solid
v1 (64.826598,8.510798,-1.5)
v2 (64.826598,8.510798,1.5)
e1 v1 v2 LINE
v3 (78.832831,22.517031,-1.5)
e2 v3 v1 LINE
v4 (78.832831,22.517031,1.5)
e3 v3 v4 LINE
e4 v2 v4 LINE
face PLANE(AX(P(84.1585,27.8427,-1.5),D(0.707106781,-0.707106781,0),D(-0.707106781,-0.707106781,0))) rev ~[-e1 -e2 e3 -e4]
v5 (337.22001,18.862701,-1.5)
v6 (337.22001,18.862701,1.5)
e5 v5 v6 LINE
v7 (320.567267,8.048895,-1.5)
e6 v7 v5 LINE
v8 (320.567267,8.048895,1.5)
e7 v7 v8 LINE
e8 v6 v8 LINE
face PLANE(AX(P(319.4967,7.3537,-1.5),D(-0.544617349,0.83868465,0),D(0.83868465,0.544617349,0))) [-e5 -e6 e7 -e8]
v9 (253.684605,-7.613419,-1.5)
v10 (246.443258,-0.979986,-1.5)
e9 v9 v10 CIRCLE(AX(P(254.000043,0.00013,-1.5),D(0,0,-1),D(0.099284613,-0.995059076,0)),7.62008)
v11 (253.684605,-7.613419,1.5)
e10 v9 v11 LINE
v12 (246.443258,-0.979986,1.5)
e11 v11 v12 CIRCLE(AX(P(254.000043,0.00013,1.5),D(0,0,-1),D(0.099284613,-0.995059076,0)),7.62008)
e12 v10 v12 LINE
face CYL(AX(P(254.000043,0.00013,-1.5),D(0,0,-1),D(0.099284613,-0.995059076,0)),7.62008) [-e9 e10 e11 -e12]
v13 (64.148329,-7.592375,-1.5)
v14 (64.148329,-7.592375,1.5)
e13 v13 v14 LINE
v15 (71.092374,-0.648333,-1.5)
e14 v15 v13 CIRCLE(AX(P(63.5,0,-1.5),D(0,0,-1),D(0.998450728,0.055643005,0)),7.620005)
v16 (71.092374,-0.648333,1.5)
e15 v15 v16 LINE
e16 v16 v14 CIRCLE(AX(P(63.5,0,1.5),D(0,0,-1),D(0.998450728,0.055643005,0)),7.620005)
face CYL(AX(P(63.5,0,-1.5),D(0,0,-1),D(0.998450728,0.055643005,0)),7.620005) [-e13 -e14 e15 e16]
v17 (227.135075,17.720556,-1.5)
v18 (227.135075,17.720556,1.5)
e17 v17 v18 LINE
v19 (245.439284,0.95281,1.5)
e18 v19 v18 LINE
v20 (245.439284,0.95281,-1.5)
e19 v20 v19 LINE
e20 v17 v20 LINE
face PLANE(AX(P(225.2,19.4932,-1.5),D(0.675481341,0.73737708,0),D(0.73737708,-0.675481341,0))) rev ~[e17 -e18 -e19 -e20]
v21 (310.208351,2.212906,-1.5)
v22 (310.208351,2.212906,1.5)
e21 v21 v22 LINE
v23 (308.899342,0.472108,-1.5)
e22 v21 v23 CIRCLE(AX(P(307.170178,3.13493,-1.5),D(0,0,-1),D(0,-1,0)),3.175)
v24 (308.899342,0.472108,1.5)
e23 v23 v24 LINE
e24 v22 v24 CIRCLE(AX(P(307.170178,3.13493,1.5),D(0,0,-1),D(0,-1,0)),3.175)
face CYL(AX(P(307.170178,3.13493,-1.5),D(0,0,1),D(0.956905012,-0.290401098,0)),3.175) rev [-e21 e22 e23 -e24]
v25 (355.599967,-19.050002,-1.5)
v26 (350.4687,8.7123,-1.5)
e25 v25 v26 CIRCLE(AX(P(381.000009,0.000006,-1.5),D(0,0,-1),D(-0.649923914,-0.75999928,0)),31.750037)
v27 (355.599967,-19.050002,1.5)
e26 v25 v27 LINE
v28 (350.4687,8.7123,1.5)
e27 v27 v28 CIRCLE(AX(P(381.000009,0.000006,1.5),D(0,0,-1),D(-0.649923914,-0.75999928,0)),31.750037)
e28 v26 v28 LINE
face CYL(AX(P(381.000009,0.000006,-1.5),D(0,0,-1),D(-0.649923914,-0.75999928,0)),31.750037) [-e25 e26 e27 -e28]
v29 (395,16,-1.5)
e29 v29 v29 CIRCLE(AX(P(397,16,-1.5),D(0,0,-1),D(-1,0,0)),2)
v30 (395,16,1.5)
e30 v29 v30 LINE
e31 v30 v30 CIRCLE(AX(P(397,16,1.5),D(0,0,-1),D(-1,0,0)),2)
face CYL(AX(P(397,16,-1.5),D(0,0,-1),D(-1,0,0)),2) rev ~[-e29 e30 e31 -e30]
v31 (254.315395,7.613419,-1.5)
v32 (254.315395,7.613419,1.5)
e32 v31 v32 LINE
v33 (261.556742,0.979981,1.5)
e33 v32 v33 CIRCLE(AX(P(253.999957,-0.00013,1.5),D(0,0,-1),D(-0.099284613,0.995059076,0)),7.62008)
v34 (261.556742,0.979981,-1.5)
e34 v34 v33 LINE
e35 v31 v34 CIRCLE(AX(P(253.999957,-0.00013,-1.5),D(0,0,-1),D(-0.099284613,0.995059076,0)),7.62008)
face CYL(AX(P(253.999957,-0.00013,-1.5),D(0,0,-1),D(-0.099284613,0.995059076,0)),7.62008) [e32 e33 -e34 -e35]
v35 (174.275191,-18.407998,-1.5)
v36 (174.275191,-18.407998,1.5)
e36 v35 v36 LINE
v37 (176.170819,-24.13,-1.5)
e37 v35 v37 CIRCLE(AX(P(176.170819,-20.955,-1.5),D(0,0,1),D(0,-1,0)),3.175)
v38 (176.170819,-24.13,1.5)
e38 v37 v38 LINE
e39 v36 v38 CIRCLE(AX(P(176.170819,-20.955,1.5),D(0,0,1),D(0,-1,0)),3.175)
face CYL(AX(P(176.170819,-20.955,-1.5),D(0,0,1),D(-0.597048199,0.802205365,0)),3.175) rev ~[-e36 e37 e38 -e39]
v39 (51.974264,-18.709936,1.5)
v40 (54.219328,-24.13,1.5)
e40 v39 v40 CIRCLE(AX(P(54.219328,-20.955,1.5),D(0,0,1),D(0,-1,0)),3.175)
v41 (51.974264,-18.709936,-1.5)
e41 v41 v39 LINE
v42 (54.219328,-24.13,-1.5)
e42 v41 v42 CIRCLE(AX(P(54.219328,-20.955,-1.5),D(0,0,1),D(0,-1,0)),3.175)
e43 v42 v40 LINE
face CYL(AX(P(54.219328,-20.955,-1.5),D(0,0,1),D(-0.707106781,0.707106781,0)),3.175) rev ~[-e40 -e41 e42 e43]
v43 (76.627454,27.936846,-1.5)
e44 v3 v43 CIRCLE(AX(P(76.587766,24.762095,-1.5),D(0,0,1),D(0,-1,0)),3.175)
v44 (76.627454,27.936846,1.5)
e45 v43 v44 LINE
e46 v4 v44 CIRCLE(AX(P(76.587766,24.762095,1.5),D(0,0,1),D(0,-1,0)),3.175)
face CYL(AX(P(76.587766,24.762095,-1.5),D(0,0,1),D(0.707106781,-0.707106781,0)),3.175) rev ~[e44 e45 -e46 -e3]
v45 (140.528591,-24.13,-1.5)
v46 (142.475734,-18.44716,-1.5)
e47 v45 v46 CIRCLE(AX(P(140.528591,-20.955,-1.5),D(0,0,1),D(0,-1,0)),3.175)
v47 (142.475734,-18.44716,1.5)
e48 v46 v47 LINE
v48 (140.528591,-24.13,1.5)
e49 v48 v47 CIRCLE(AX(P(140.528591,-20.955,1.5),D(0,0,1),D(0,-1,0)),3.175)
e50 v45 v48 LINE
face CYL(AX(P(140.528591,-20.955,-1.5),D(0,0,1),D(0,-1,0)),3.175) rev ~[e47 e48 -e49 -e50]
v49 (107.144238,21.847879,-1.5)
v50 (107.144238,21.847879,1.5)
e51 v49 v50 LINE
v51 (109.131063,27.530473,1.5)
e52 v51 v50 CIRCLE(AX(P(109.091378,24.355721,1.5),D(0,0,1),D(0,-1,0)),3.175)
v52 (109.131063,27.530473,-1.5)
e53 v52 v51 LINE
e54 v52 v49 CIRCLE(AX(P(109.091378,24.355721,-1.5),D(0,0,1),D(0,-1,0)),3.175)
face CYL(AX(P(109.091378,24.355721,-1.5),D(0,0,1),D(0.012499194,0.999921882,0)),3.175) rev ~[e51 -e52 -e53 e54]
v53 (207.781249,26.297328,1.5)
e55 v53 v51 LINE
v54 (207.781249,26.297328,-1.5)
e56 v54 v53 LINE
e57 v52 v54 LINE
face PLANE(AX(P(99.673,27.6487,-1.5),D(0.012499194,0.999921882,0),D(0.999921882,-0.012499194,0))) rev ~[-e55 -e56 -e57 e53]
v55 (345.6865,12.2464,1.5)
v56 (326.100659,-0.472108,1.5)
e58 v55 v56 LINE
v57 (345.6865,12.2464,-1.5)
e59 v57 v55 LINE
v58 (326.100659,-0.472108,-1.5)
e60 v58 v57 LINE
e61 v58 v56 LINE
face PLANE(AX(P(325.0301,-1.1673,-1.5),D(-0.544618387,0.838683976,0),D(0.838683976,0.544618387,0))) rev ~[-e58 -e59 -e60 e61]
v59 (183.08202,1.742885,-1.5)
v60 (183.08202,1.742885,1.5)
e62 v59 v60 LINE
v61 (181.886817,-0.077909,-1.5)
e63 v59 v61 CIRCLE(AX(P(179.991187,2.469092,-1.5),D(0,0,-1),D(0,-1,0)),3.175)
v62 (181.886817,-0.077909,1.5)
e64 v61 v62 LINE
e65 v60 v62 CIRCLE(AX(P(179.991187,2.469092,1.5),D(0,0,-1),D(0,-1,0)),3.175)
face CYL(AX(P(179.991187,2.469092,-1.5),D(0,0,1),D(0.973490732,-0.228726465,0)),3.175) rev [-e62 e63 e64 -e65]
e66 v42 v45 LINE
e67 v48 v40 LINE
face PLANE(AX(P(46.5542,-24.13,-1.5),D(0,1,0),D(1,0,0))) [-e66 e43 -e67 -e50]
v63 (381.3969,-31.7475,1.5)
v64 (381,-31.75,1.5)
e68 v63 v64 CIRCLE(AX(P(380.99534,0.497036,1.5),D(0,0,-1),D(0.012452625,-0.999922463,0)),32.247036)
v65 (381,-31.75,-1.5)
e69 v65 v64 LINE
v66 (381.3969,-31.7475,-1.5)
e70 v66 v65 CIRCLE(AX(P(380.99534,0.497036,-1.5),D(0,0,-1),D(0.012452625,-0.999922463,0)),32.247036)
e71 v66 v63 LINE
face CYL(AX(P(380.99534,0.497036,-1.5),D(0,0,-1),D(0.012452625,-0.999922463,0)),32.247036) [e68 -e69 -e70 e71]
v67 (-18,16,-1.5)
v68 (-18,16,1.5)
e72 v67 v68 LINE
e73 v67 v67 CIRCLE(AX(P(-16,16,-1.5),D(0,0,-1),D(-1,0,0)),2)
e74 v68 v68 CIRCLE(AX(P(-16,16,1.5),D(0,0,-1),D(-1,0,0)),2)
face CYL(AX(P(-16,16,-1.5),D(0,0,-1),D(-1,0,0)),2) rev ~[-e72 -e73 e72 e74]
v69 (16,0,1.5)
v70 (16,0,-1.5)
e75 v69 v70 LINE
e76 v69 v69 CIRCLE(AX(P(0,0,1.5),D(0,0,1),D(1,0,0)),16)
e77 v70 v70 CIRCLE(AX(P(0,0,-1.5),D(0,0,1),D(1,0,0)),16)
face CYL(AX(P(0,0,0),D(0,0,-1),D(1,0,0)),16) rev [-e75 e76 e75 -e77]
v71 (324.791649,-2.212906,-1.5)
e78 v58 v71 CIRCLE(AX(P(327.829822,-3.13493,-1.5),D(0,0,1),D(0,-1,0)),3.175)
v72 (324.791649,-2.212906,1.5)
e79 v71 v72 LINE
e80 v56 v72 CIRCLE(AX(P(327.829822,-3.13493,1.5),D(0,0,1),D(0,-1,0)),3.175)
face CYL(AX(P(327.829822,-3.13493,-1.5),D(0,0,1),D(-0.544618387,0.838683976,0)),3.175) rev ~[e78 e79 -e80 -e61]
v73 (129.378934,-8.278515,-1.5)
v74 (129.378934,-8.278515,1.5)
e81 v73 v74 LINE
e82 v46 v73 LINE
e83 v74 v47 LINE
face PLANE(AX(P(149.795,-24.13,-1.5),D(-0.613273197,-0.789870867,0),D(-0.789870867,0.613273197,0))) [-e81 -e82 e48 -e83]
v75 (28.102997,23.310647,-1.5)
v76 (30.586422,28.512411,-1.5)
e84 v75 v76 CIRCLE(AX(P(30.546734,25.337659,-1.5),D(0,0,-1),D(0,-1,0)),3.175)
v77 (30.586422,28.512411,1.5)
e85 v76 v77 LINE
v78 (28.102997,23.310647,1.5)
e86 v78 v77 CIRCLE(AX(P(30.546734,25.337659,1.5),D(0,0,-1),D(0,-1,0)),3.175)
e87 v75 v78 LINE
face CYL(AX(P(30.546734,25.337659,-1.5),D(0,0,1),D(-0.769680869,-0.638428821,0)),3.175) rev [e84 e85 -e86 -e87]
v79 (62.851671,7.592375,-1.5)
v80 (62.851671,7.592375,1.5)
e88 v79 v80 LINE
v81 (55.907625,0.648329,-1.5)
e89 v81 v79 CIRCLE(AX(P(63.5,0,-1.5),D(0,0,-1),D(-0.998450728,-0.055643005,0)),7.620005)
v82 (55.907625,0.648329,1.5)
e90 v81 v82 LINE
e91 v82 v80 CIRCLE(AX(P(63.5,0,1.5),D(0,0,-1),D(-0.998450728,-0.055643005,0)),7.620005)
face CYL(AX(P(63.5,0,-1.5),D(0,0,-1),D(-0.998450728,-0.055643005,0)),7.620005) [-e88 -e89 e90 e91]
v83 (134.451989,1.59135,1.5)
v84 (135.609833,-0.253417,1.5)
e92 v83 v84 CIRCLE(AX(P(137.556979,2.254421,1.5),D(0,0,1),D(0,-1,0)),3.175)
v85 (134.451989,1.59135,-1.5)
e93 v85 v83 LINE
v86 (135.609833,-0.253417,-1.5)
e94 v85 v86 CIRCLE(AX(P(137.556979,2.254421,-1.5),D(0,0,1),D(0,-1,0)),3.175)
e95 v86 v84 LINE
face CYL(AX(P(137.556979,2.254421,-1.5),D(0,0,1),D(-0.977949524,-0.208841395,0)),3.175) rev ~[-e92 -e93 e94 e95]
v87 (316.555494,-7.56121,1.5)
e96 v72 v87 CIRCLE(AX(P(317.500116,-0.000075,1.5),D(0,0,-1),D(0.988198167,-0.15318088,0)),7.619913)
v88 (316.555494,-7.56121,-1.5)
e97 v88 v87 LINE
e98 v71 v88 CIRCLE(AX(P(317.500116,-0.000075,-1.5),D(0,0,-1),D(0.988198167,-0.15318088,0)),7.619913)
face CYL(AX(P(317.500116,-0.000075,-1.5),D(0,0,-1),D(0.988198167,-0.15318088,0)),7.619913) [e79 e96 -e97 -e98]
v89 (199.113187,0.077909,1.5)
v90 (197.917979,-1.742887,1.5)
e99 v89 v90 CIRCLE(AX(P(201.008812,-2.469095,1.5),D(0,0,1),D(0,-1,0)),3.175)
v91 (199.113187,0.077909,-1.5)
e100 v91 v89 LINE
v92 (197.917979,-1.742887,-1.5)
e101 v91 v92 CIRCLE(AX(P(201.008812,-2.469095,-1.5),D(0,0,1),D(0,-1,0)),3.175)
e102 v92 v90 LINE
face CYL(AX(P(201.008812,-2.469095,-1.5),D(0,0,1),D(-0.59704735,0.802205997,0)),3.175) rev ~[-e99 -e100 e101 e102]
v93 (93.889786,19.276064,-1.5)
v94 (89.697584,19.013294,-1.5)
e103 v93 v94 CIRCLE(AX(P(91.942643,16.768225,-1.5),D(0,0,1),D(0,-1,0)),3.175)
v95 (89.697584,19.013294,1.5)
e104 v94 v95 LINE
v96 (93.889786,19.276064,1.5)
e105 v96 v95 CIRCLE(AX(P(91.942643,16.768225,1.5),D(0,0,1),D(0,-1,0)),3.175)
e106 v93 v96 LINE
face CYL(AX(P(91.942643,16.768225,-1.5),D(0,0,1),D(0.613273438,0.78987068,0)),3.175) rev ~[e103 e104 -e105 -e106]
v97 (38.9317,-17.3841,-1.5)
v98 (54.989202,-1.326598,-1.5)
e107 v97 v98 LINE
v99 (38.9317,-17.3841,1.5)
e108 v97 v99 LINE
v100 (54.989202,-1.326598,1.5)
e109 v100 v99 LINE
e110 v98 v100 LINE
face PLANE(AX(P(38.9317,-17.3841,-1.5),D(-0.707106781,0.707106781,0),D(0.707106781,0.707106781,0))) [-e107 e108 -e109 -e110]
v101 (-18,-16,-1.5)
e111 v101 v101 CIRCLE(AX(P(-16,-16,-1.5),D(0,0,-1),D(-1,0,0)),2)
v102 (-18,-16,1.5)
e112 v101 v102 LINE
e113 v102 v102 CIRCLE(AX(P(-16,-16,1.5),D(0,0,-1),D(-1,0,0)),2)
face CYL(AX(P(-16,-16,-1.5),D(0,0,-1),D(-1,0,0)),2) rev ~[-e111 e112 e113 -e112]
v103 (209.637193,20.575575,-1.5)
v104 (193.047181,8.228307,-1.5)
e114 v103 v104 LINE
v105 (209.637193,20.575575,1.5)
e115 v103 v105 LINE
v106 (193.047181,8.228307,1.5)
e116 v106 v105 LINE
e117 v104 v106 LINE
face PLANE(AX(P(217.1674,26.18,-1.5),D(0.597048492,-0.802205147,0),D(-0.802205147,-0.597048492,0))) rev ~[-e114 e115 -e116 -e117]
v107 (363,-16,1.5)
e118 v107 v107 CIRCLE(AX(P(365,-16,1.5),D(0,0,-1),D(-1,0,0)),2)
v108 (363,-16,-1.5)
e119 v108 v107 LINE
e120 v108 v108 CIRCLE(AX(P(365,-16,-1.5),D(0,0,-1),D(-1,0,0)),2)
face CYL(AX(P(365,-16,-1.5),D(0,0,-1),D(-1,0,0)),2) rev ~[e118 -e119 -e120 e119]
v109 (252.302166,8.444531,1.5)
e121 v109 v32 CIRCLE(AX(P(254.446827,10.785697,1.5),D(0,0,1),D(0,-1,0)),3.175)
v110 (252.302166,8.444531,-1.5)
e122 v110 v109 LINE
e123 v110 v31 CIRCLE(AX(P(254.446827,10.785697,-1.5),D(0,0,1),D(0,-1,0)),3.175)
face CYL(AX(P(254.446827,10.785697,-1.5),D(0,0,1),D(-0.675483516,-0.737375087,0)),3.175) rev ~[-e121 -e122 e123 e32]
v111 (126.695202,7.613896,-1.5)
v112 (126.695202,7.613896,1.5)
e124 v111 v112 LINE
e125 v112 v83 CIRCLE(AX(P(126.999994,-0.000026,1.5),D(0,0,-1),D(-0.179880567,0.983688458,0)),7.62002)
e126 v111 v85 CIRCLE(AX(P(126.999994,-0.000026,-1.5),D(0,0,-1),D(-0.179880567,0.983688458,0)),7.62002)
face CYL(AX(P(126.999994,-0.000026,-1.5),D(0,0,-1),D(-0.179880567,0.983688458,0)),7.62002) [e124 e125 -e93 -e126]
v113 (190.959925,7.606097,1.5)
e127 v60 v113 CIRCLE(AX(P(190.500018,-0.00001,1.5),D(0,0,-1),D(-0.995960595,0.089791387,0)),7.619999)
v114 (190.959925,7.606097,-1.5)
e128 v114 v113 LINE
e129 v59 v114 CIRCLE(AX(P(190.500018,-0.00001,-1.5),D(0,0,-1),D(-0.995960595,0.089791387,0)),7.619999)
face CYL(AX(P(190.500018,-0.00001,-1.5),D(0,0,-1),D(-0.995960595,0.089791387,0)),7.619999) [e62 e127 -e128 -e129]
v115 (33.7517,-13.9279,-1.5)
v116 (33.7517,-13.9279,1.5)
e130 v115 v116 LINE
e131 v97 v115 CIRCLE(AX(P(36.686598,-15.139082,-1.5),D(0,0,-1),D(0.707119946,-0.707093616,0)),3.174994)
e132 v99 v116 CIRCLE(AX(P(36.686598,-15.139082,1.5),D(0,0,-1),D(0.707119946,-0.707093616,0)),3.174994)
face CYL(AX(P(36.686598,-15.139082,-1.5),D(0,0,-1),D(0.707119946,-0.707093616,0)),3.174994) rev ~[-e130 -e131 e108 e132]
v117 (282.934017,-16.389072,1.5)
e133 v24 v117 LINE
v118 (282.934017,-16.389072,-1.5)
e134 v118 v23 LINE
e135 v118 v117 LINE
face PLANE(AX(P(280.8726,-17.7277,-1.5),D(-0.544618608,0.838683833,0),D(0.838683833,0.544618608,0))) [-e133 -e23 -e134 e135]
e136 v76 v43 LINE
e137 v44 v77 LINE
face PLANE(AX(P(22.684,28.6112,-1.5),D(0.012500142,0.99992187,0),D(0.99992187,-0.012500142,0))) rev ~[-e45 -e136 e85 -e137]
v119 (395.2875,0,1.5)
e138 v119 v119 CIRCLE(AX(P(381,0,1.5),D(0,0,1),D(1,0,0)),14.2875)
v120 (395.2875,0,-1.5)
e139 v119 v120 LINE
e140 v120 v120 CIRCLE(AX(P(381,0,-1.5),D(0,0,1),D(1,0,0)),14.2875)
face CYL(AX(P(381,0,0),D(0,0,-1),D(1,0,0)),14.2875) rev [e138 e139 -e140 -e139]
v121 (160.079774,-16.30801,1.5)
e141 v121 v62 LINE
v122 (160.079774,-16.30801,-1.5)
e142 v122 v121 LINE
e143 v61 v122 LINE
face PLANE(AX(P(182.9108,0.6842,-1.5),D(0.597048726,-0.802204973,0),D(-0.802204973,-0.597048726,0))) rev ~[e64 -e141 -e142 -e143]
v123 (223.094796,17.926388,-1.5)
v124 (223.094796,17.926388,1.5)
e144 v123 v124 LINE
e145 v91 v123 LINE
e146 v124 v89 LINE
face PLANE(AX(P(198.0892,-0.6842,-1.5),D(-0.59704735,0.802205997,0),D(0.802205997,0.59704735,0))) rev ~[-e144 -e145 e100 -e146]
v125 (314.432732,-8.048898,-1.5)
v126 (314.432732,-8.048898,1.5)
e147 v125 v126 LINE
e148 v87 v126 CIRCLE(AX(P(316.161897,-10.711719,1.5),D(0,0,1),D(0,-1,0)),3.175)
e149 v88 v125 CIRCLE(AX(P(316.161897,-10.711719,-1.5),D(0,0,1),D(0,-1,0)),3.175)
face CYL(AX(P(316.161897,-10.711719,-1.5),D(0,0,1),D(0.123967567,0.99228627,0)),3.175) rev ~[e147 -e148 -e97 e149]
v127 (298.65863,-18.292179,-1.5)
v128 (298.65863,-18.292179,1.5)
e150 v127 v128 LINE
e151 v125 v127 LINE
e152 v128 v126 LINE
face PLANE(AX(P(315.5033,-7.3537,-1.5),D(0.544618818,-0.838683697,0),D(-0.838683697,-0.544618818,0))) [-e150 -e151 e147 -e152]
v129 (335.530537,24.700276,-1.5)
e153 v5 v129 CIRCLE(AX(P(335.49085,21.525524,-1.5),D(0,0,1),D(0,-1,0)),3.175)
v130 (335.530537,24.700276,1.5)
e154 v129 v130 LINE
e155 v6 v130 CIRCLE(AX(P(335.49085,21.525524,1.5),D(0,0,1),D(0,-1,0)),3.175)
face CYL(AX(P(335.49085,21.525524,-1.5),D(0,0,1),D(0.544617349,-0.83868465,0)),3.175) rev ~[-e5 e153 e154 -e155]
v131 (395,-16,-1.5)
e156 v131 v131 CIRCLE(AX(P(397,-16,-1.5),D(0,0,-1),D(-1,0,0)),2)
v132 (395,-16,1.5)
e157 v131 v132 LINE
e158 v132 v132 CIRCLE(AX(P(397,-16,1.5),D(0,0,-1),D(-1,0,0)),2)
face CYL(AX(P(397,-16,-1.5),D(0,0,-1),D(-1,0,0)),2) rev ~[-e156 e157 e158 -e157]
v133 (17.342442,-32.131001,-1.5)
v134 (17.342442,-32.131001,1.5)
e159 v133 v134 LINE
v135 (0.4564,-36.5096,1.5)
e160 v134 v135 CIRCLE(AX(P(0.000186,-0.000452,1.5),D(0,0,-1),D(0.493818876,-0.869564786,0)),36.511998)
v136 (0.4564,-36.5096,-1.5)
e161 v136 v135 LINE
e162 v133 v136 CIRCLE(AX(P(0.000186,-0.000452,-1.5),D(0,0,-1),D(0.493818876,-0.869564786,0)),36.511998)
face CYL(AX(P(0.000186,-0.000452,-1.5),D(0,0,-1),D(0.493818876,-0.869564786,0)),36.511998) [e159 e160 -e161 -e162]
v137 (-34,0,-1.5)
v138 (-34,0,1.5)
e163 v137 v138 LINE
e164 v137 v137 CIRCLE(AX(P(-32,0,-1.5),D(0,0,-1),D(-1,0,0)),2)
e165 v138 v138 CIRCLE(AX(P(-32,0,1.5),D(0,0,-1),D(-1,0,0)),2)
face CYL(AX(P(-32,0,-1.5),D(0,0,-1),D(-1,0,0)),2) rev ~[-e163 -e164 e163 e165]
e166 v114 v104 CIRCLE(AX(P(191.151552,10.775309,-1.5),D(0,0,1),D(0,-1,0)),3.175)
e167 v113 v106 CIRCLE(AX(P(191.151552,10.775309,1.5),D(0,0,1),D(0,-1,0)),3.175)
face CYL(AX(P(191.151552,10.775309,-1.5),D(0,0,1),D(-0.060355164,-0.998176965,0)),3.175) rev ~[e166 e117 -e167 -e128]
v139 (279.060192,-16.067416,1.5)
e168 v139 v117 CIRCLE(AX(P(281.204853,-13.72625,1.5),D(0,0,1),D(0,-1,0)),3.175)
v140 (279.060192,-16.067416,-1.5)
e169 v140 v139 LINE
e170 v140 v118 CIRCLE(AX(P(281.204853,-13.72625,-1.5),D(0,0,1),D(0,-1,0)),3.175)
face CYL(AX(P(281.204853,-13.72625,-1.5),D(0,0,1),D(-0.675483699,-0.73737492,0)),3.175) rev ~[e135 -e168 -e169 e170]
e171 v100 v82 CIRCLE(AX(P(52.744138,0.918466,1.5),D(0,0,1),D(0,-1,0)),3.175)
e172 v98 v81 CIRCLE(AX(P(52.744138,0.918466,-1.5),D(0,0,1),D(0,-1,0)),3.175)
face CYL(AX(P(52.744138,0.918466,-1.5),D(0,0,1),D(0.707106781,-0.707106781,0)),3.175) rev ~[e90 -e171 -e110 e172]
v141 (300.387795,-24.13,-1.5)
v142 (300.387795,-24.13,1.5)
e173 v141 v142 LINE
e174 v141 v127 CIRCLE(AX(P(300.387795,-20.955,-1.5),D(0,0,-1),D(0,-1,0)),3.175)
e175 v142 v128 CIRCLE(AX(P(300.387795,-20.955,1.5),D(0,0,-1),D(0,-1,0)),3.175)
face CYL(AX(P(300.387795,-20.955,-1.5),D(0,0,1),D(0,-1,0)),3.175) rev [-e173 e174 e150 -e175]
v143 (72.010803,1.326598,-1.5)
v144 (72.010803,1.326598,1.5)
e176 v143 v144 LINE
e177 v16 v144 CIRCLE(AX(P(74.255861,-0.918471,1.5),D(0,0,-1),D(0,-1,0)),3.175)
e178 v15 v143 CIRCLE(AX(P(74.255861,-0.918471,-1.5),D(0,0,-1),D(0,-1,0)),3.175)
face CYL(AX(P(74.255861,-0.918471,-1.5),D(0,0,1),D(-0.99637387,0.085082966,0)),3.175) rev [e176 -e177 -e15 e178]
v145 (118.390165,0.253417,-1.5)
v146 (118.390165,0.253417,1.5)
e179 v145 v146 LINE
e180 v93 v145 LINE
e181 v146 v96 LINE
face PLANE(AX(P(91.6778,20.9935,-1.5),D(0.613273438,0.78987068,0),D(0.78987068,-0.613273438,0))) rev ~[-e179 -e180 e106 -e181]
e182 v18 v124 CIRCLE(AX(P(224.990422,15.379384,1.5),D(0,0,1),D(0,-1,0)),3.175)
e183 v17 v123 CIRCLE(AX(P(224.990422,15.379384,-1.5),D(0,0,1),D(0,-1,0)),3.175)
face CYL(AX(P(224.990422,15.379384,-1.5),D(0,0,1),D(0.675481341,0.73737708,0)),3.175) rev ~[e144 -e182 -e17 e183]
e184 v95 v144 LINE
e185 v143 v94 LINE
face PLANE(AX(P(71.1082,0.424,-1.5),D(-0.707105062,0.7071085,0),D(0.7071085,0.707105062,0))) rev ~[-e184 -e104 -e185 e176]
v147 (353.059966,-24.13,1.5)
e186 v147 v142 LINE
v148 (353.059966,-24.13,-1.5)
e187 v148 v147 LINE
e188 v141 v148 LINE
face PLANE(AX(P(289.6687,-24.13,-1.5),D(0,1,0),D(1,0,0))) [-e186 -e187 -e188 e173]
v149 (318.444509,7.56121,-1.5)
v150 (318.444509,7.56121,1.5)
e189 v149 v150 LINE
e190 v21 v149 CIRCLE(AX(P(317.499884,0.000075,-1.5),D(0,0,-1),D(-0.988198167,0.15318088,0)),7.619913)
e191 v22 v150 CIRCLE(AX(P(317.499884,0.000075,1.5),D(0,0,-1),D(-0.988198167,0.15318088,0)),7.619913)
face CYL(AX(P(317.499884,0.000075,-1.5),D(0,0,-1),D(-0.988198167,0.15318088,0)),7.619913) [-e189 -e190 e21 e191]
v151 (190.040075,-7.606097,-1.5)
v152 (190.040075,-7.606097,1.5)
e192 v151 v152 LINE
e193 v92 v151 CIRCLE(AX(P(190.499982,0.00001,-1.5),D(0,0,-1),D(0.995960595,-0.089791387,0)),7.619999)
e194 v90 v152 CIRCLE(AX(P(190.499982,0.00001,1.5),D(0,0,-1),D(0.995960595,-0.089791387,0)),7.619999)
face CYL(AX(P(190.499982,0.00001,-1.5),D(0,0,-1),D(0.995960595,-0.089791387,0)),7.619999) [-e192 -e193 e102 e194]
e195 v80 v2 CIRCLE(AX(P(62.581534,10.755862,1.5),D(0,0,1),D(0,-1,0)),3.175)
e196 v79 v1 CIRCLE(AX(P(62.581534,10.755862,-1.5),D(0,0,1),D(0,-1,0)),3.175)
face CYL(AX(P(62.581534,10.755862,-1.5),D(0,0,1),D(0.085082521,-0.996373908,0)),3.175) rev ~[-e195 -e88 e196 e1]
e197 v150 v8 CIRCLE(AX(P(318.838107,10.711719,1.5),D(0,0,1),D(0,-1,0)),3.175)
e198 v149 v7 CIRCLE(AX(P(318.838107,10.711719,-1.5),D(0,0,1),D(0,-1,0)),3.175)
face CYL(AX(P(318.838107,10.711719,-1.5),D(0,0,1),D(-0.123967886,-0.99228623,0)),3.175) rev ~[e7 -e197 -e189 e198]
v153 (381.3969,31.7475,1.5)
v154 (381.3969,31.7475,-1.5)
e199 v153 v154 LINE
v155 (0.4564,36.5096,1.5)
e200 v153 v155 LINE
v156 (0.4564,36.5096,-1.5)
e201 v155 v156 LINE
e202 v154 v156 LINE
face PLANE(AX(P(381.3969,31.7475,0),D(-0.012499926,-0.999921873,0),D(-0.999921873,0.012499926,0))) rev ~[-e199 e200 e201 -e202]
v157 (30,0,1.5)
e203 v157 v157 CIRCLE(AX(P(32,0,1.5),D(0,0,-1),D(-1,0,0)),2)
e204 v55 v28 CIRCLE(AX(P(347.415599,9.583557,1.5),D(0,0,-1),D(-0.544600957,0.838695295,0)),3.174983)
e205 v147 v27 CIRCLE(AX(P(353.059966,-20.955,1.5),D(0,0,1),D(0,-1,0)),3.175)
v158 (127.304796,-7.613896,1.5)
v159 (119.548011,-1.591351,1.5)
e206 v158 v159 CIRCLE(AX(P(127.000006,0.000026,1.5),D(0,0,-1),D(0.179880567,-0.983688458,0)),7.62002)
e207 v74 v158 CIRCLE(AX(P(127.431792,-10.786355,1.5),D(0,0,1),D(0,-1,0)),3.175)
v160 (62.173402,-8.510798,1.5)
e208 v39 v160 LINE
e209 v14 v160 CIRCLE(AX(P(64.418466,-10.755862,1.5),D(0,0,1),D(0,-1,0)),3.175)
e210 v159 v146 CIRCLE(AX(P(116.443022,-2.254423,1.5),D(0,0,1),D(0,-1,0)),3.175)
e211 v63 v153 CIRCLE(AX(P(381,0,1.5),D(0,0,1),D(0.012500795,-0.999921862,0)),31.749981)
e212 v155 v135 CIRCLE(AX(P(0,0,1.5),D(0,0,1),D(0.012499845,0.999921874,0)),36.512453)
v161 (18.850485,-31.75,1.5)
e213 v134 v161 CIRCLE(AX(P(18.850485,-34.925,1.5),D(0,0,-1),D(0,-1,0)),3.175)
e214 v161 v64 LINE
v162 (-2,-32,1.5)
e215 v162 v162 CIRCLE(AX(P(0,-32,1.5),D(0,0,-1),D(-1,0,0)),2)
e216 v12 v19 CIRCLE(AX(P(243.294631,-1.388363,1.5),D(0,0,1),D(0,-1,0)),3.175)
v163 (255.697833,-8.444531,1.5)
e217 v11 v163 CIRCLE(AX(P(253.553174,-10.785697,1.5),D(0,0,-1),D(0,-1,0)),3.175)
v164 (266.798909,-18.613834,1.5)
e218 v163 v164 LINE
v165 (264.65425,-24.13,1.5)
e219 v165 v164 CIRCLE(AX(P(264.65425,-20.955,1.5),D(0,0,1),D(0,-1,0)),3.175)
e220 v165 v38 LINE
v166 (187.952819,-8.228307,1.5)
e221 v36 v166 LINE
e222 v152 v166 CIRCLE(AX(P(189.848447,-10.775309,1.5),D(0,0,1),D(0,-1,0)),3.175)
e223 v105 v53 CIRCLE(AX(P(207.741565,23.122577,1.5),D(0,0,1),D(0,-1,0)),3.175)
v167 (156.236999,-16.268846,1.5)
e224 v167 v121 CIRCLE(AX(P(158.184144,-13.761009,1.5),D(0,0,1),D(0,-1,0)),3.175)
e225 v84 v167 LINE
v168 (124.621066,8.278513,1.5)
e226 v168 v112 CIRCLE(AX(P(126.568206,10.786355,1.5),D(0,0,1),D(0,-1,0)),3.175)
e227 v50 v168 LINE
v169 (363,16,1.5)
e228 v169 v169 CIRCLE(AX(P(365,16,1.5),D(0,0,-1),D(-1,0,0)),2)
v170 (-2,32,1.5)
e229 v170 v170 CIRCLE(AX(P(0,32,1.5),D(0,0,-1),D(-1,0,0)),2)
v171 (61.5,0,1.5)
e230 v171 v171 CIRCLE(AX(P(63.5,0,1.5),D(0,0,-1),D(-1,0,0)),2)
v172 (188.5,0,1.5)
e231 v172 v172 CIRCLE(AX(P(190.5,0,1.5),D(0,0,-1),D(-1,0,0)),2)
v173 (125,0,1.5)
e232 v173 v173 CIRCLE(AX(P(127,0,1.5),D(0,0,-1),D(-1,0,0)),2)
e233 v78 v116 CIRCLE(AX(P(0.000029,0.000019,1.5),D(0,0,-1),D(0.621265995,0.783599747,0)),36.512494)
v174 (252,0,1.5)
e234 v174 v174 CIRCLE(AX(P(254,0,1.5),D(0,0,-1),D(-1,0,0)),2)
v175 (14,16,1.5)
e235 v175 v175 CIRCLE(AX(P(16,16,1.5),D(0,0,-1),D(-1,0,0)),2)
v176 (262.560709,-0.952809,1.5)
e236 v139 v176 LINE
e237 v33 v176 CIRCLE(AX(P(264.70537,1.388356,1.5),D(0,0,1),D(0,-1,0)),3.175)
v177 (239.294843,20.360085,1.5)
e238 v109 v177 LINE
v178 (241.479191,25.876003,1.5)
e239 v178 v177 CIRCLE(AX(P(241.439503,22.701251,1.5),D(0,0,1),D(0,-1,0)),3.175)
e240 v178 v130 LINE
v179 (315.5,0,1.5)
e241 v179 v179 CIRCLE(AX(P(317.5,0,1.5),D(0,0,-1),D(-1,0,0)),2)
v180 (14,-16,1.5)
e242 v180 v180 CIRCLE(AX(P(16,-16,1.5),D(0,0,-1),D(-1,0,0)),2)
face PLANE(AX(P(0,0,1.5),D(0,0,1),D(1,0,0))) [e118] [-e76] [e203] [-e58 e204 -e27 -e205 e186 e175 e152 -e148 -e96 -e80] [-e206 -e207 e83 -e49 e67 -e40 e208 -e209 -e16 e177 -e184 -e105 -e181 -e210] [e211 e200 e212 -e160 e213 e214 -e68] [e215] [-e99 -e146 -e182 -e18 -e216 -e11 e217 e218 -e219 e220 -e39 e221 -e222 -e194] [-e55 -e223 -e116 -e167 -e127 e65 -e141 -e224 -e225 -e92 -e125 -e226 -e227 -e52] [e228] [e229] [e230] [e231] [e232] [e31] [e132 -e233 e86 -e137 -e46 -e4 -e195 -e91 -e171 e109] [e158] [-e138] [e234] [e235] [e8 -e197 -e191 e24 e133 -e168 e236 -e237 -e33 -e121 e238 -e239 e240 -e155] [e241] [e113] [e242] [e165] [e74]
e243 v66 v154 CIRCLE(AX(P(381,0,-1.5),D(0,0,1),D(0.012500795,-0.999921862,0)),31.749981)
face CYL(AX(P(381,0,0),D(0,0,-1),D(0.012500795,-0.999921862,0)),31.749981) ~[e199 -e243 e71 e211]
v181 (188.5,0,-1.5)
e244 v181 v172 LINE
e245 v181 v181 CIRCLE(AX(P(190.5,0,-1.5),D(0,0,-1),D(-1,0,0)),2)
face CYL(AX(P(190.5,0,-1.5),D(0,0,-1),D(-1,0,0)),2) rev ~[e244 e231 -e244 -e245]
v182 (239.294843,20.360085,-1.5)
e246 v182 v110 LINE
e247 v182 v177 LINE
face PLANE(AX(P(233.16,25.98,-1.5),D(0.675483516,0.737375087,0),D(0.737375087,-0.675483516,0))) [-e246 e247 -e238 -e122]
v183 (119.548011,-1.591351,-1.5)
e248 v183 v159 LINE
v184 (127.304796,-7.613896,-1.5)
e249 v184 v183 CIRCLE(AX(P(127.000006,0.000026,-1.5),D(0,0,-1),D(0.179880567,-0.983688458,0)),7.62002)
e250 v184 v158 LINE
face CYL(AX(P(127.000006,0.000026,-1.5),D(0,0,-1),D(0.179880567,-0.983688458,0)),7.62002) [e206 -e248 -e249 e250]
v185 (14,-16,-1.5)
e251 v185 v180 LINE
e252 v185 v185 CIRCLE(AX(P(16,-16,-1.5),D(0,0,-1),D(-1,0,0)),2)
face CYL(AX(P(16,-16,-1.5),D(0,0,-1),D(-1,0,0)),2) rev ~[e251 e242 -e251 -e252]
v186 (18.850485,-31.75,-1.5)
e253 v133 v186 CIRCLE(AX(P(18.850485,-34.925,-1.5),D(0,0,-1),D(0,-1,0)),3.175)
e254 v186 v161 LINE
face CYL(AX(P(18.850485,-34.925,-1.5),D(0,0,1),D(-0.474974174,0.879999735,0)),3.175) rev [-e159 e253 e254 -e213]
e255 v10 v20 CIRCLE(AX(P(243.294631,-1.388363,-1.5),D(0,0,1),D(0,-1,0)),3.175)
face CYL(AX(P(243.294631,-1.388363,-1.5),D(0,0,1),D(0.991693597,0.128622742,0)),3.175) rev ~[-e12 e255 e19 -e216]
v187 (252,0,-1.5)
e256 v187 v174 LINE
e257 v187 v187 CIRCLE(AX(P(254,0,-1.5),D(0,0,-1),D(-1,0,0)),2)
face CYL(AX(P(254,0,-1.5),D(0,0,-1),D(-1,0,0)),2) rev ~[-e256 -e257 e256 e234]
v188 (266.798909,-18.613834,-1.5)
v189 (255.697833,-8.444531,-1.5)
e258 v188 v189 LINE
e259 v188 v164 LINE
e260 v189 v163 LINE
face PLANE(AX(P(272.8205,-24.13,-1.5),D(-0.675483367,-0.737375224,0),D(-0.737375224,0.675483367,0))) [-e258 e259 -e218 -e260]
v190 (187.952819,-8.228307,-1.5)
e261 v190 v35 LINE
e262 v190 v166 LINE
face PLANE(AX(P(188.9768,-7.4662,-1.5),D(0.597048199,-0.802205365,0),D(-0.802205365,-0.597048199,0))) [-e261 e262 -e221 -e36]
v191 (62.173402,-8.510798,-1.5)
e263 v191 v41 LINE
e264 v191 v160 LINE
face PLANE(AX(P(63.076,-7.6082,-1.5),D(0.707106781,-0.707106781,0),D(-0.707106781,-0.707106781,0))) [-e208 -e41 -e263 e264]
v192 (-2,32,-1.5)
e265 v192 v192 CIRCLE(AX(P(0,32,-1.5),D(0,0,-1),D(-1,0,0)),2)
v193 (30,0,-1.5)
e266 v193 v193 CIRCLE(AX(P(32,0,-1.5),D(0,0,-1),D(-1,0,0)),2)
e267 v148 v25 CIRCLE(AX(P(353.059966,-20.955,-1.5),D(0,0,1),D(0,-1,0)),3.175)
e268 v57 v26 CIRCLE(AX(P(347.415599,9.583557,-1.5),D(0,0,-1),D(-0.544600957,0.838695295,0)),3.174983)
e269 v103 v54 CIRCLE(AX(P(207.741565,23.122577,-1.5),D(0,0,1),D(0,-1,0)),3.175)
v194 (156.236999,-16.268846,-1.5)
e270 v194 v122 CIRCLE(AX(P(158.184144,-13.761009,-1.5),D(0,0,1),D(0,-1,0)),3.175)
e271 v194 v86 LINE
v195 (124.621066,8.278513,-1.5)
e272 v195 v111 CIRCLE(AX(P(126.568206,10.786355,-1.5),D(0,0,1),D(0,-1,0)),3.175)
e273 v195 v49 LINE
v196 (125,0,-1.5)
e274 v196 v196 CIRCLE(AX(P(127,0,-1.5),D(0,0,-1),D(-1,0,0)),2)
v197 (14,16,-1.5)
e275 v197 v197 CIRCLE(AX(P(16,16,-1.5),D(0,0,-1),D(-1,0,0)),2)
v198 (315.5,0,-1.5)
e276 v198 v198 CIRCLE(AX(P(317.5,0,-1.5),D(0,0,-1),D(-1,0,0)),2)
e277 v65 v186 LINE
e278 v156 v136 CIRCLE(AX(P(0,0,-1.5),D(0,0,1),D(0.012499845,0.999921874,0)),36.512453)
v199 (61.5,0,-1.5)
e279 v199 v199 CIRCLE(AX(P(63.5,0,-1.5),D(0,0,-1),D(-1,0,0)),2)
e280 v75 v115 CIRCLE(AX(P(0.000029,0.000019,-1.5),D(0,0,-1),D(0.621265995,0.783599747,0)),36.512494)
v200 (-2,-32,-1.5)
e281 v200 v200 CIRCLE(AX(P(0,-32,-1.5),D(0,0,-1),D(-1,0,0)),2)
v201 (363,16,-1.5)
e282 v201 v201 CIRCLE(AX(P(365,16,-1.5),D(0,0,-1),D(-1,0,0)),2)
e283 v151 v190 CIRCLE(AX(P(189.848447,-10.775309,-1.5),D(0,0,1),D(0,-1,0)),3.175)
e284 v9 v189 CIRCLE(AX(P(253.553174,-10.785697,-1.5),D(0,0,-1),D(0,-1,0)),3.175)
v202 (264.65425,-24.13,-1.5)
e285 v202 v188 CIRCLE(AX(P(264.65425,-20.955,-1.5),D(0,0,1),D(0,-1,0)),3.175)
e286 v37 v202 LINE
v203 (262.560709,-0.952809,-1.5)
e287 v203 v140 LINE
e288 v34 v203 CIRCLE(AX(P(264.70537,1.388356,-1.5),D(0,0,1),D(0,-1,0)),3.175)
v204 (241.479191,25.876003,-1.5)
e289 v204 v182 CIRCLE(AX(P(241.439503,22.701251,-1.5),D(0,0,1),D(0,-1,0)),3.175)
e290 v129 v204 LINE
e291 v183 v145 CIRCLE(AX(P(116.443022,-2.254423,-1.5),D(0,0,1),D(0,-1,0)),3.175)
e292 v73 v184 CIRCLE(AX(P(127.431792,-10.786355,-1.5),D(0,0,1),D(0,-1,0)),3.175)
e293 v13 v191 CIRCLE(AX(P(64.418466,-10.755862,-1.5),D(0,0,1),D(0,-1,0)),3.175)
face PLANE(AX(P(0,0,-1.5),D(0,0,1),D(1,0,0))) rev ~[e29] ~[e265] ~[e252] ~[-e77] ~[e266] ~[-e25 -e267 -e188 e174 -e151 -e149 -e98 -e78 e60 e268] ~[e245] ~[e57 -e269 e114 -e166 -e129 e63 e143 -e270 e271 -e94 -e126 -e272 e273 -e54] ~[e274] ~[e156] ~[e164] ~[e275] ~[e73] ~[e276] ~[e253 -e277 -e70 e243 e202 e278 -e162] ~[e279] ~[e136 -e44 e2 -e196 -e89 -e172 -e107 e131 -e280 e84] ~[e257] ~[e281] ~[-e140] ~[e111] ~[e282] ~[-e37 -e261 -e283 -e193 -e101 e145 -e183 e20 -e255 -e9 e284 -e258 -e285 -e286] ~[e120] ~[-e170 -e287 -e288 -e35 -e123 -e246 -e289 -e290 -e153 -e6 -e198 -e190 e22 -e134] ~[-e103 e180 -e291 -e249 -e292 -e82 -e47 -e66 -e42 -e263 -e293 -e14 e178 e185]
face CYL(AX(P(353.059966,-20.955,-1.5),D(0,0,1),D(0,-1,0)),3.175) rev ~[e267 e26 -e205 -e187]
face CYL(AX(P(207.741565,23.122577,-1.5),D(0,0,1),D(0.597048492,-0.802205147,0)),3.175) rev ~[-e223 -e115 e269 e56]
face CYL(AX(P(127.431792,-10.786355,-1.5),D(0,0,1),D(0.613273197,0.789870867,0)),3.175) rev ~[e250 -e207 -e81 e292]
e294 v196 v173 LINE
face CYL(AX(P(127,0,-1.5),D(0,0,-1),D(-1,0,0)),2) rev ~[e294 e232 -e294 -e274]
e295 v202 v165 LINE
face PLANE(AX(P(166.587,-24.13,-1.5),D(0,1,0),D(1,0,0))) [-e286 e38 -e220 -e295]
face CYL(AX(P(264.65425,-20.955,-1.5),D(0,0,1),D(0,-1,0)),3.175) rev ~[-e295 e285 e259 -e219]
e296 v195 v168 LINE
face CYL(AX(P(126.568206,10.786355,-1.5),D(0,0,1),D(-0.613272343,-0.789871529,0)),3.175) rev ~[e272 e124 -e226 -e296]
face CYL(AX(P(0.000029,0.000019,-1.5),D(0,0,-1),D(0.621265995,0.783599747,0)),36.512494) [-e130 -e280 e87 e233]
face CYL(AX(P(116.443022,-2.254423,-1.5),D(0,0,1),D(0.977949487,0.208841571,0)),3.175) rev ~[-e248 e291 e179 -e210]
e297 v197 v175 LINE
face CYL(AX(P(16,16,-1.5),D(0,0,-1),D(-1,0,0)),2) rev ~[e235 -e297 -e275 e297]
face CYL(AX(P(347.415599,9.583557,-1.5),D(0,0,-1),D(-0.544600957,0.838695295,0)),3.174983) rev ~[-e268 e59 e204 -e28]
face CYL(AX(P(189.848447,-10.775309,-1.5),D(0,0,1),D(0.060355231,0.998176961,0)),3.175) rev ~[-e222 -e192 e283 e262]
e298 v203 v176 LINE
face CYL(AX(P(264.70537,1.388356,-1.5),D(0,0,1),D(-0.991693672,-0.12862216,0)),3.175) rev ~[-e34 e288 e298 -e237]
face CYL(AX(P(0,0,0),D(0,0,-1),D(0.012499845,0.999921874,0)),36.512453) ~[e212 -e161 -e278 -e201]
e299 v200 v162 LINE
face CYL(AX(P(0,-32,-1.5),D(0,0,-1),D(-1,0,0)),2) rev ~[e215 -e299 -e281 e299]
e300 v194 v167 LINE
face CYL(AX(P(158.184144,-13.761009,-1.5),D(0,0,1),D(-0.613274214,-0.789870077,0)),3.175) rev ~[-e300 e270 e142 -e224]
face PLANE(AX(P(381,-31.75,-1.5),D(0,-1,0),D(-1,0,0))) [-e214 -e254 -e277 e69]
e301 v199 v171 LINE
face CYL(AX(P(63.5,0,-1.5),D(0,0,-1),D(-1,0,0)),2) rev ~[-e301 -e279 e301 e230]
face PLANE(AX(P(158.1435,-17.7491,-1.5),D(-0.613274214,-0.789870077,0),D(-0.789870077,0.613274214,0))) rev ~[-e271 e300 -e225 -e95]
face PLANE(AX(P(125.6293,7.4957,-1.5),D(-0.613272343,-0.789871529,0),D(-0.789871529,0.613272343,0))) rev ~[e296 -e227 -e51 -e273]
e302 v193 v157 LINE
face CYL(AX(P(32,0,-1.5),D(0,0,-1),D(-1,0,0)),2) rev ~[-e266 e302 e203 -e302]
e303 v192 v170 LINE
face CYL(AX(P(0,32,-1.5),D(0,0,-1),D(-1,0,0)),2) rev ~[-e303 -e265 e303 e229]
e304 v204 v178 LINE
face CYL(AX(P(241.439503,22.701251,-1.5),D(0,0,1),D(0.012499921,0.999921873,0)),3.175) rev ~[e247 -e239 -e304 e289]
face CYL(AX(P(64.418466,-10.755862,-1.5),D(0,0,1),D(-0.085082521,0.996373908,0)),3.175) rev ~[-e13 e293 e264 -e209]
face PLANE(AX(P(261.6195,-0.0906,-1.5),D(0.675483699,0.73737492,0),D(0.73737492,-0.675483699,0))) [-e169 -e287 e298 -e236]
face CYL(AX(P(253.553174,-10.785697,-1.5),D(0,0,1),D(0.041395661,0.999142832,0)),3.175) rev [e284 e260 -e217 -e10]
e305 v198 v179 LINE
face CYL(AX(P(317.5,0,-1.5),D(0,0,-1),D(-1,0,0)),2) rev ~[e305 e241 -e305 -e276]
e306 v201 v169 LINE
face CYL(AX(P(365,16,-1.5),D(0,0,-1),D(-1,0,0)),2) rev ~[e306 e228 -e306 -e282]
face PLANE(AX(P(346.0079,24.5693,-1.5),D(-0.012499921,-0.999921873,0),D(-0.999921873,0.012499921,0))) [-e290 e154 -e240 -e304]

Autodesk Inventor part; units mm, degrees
ref_plane "YZ Plane" through (0, 0, 0) normal (1, 0, 0) x (0, 1, 0)
ref_plane "XZ Plane" through (0, 0, 0) normal (0, 1, 0) x (-1, 0, 0)
ref_plane "XY Plane" through (0, 0, 0) normal (0, 0, 1) x (1, 0, 0)
sketch "Sketch1" plane through (0, 0, 0) normal (0, 0, 1) x (1, 0, 0)
  line L0 (0, 0) -> (381, 0) construction
  line L1 (0.4564, -36.5096) -> (381.3969, -31.7475)
  line L2 (381.3969, 31.7475) -> (0.4564, 36.5096)
  arc A0 (0.4564, 36.5096) -> (0.4564, -36.5096) centre (0, 0) ccw
  arc A1 (381.3969, -31.7475) -> (381.3969, 31.7475) centre (381, 0) ccw
  circle A2 centre (0, 0) radius 16
  circle A3 centre (381, 0) radius 14.2875
  point P0 (190.5, 0)
  dimension "d0" = 381
  dimension "d2" = 32
  dimension "d5" = 36.5125
  dimension "d6" = 31.75
  dimension "d7" = 28.575
extrude "Extrusion1" add sketch "Sketch1" along normal mid plane 3
sketch "Sketch2" plane through (0, 0, -1.5) normal (0, 0, -1) x (-1, 0, 0)
  circle A0 centre (0, -32) radius 2
  circle A1 centre (-16, -16) radius 2
  line L0 (0, -32) -> (0, 0) construction
  line L1 (0, 0) -> (-16, -16) construction
  line L2 (0, 0) -> (-63.5, 0) construction
  circle A2 centre (-63.5, 0) radius 2
  circle A3 centre (32, 0) radius 2
  circle A4 centre (16, -16) radius 2
  circle A5 centre (0, 32) radius 2
  circle A6 centre (16, 16) radius 2
  circle A7 centre (-32, 0) radius 2
  circle A8 centre (-16, 16) radius 2
  circle A9 centre (-127, 0) radius 2
  circle A10 centre (-190.5, 0) radius 2
  circle A11 centre (-254, 0) radius 2
  circle A12 centre (-317.5, 0) radius 2
  line L3 (-22.684, 28.6112) -> (-84.1585, 27.8427)
  line L4 (-84.1585, 27.8427) -> (-63.924, 7.6082)
  line L5 (-71.1082, 0.424) -> (-91.6778, 20.9935)
  line L6 (-91.6778, 20.9935) -> (-119.3984, -0.5294)
  line L7 (-355.1593, 24.4549) -> (-91.254, 27.754) construction
  line L8 (-0.4564, 36.5096) -> (-381.3969, 31.7475) construction
  line L9 (-39.37, -24.13) -> (-91.254, 27.754) construction
  line L10 (-91.254, 27.754) -> (-158.0785, -24.13) construction
  line L11 (-158.0785, -24.13) -> (-225.5354, 26.0753) construction
  line L12 (-225.5354, 26.0753) -> (-280.341, -24.13) construction
  line L13 (-280.341, -24.13) -> (-355.1593, 24.4549) construction
  line L14 (-39.37, -24.13) -> (-280.341, -24.13) construction
  line L15 (-381.3969, -31.7475) -> (-0.4564, -36.5096) construction
  circle A13 centre (-397, -16) radius 2
  line L16 (-397, -16) -> (-381, 0) construction
  circle A14 centre (-381, 0) radius 14.2875 construction
  circle A15 centre (-365, -16) radius 2
  circle A16 centre (-365, 16) radius 2
  circle A17 centre (-397, 16) radius 2
  line L17 (-315.5033, -7.3537) -> (-289.6687, -24.13)
  line L18 (-289.6687, -24.13) -> (-360.3649, -24.13)
  arc A18 (-360.3649, -24.13) -> (-350.4687, 8.7123) centre (-381, 0) ccw
  arc A19 (-325.0301, -1.1673) -> (-315.5033, -7.3537) centre (-317.5, 0) ccw
  arc A20 (-309.9699, 1.1673) -> (-319.4967, 7.3537) centre (-317.5, 0) ccw
  arc A21 (-253.2434, 7.5823) -> (-261.6195, -0.0906) centre (-254, 0) ccw
  arc A22 (-254.7566, -7.5823) -> (-246.3805, 0.0906) centre (-254, 0) ccw
  arc A23 (-198.0892, -0.6842) -> (-188.9768, -7.4662) centre (-190.5, 0) ccw
  arc A24 (-182.9108, 0.6842) -> (-192.0232, 7.4662) centre (-190.5, 0) ccw
  arc A25 (-125.6293, 7.4957) -> (-134.6016, 0.5294) centre (-127, 0) ccw
  arc A26 (-128.3707, -7.4957) -> (-119.3984, -0.5294) centre (-127, 0) ccw
  arc A27 (-71.1082, 0.424) -> (-63.076, -7.6082) centre (-63.5, 0) ccw
  arc A28 (-55.8918, -0.424) -> (-63.924, 7.6082) centre (-63.5, 0) ccw
  circle A29 centre (-63.5, 0) radius 5.08 construction
  circle A30 centre (-127, 0) radius 5.08 construction
  circle A31 centre (-190.5, 0) radius 5.08 construction
  circle A32 centre (-254, 0) radius 5.08 construction
  circle A33 centre (-317.5, 0) radius 5.08 construction
  line L19 (-319.4967, 7.3537) -> (-346.0079, 24.5693)
  line L20 (-346.0079, 24.5693) -> (-233.16, 25.98)
  line L21 (-233.16, 25.98) -> (-253.2434, 7.5823)
  line L22 (-261.6195, -0.0906) -> (-280.8726, -17.7277)
  line L23 (-280.8726, -17.7277) -> (-309.9699, 1.1673)
  line L24 (-188.9768, -7.4662) -> (-166.587, -24.13)
  line L25 (-166.587, -24.13) -> (-272.8205, -24.13)
  line L26 (-272.8205, -24.13) -> (-254.7566, -7.5823)
  line L27 (-198.0892, -0.6842) -> (-225.2, 19.4932)
  line L28 (-225.2, 19.4932) -> (-246.3805, 0.0906)
  line L29 (-182.9108, 0.6842) -> (-158.1435, -17.7491)
  line L30 (-158.1435, -17.7491) -> (-134.6016, 0.5294)
  line L31 (-125.6293, 7.4957) -> (-99.673, 27.6487)
  line L32 (-99.673, 27.6487) -> (-217.1674, 26.18)
  line L33 (-217.1674, 26.18) -> (-192.0232, 7.4662)
  line L34 (-63.076, -7.6082) -> (-46.5542, -24.13)
  line L35 (-46.5542, -24.13) -> (-149.795, -24.13)
  line L36 (-149.795, -24.13) -> (-128.3707, -7.4957)
  line L37 (-38.9317, -17.3841) -> (-55.8918, -0.424)
  arc A34 (-0.4564, -36.5096) -> (-0.4564, 36.5096) centre (0, 0) ccw construction
  arc A35 (-381.3969, 31.7475) -> (-381.3969, -31.7475) centre (-381, 0) ccw construction
  line L38 (-325.0301, -1.1673) -> (-345.6865, 12.2464)
  arc A36 (-22.684, 28.6112) -> (-33.7517, -13.9279) centre (0, 0) ccw
  arc A37 (-38.9317, -17.3841) -> (-33.7517, -13.9279) centre (-36.6866, -15.1391) ccw
  arc A38 (-345.6865, 12.2464) -> (-350.4687, 8.7123) centre (-347.4156, 9.5836) ccw
  circle A39 centre (-381, 0) radius 24.13 construction
  line L39 (-0.4564, -36.5096) -> (-381.3969, -31.7475)
  arc A40 (-381.3969, -31.7475) -> (-381, -31.75) centre (-381, 0) ccw
  line L40 (-381, -31.75) -> (-18.0305, -31.75)
  arc A41 (-18.0305, -31.75) -> (-0.4564, -36.5096) centre (0, 0) ccw
  dimension "d8" = 45
  dimension "d9" = 16
  dimension "d10" = 32
  dimension "d11" = 4
  dimension "d14" = 360
  dimension "d16" = 63.5
  dimension "d17" = 4
  dimension "d20" = 63.5
  dimension "d26" = 7.62
  dimension "d27" = 45
  dimension "d28" = 45
  dimension "d29" = 16
  dimension "d32" = 360
  dimension "d34" = 10.16
  dimension "d35" = 7.62
  dimension "d36" = 3.175
extrude "Extrusion2" cut sketch "Sketch2" against normal through all
fillet "Fillet1" radius 3.175 37 edges at (22.684, 28.6112, 0) (46.5542, -24.13, 0) (84.1585, 27.8427, 0) (91.6778, 20.9935, 0) (99.673, 27.6487, 0) (55.8918, -0.424, 0) (63.924, 7.6082, 0) (71.1082, 0.424, 0) (63.076, -7.6082, 0) (128.3707, -7.4957, 0) (119.3984, -0.5294, 0) (125.6293, 7.4957, 0) (134.6016, 0.5294, 0) (149.795, -24.13, 0) (158.1435, -17.7491, 0) (166.587, -24.13, 0) (182.9108, 0.6842, 0) (188.9768, -7.4662, 0) (198.0892, -0.6842, 0) (192.0232, 7.4662, 0) (217.1674, 26.18, 0) (225.2, 19.4932, 0) (233.16, 25.98, 0) (246.3805, 0.0906, 0) (253.2434, 7.5823, 0) (261.6195, -0.0906, 0) (254.7566, -7.5823, 0) (272.8205, -24.13, 0) (280.8726, -17.7277, 0) (289.6687, -24.13, 0) (309.9699, 1.1673, 0) (319.4967, 7.3537, 0) (325.0301, -1.1673, 0) (315.5033, -7.3537, 0) (346.0079, 24.5693, 0) (360.3649, -24.13, 0) (18.0305, -31.75, 0)
equation "\"d20\" = d16"
equation "\"d26\" = d25"
equation "\"d25\" = 7.62"
properties part number "LowerArmPlate" material "CFRP"
